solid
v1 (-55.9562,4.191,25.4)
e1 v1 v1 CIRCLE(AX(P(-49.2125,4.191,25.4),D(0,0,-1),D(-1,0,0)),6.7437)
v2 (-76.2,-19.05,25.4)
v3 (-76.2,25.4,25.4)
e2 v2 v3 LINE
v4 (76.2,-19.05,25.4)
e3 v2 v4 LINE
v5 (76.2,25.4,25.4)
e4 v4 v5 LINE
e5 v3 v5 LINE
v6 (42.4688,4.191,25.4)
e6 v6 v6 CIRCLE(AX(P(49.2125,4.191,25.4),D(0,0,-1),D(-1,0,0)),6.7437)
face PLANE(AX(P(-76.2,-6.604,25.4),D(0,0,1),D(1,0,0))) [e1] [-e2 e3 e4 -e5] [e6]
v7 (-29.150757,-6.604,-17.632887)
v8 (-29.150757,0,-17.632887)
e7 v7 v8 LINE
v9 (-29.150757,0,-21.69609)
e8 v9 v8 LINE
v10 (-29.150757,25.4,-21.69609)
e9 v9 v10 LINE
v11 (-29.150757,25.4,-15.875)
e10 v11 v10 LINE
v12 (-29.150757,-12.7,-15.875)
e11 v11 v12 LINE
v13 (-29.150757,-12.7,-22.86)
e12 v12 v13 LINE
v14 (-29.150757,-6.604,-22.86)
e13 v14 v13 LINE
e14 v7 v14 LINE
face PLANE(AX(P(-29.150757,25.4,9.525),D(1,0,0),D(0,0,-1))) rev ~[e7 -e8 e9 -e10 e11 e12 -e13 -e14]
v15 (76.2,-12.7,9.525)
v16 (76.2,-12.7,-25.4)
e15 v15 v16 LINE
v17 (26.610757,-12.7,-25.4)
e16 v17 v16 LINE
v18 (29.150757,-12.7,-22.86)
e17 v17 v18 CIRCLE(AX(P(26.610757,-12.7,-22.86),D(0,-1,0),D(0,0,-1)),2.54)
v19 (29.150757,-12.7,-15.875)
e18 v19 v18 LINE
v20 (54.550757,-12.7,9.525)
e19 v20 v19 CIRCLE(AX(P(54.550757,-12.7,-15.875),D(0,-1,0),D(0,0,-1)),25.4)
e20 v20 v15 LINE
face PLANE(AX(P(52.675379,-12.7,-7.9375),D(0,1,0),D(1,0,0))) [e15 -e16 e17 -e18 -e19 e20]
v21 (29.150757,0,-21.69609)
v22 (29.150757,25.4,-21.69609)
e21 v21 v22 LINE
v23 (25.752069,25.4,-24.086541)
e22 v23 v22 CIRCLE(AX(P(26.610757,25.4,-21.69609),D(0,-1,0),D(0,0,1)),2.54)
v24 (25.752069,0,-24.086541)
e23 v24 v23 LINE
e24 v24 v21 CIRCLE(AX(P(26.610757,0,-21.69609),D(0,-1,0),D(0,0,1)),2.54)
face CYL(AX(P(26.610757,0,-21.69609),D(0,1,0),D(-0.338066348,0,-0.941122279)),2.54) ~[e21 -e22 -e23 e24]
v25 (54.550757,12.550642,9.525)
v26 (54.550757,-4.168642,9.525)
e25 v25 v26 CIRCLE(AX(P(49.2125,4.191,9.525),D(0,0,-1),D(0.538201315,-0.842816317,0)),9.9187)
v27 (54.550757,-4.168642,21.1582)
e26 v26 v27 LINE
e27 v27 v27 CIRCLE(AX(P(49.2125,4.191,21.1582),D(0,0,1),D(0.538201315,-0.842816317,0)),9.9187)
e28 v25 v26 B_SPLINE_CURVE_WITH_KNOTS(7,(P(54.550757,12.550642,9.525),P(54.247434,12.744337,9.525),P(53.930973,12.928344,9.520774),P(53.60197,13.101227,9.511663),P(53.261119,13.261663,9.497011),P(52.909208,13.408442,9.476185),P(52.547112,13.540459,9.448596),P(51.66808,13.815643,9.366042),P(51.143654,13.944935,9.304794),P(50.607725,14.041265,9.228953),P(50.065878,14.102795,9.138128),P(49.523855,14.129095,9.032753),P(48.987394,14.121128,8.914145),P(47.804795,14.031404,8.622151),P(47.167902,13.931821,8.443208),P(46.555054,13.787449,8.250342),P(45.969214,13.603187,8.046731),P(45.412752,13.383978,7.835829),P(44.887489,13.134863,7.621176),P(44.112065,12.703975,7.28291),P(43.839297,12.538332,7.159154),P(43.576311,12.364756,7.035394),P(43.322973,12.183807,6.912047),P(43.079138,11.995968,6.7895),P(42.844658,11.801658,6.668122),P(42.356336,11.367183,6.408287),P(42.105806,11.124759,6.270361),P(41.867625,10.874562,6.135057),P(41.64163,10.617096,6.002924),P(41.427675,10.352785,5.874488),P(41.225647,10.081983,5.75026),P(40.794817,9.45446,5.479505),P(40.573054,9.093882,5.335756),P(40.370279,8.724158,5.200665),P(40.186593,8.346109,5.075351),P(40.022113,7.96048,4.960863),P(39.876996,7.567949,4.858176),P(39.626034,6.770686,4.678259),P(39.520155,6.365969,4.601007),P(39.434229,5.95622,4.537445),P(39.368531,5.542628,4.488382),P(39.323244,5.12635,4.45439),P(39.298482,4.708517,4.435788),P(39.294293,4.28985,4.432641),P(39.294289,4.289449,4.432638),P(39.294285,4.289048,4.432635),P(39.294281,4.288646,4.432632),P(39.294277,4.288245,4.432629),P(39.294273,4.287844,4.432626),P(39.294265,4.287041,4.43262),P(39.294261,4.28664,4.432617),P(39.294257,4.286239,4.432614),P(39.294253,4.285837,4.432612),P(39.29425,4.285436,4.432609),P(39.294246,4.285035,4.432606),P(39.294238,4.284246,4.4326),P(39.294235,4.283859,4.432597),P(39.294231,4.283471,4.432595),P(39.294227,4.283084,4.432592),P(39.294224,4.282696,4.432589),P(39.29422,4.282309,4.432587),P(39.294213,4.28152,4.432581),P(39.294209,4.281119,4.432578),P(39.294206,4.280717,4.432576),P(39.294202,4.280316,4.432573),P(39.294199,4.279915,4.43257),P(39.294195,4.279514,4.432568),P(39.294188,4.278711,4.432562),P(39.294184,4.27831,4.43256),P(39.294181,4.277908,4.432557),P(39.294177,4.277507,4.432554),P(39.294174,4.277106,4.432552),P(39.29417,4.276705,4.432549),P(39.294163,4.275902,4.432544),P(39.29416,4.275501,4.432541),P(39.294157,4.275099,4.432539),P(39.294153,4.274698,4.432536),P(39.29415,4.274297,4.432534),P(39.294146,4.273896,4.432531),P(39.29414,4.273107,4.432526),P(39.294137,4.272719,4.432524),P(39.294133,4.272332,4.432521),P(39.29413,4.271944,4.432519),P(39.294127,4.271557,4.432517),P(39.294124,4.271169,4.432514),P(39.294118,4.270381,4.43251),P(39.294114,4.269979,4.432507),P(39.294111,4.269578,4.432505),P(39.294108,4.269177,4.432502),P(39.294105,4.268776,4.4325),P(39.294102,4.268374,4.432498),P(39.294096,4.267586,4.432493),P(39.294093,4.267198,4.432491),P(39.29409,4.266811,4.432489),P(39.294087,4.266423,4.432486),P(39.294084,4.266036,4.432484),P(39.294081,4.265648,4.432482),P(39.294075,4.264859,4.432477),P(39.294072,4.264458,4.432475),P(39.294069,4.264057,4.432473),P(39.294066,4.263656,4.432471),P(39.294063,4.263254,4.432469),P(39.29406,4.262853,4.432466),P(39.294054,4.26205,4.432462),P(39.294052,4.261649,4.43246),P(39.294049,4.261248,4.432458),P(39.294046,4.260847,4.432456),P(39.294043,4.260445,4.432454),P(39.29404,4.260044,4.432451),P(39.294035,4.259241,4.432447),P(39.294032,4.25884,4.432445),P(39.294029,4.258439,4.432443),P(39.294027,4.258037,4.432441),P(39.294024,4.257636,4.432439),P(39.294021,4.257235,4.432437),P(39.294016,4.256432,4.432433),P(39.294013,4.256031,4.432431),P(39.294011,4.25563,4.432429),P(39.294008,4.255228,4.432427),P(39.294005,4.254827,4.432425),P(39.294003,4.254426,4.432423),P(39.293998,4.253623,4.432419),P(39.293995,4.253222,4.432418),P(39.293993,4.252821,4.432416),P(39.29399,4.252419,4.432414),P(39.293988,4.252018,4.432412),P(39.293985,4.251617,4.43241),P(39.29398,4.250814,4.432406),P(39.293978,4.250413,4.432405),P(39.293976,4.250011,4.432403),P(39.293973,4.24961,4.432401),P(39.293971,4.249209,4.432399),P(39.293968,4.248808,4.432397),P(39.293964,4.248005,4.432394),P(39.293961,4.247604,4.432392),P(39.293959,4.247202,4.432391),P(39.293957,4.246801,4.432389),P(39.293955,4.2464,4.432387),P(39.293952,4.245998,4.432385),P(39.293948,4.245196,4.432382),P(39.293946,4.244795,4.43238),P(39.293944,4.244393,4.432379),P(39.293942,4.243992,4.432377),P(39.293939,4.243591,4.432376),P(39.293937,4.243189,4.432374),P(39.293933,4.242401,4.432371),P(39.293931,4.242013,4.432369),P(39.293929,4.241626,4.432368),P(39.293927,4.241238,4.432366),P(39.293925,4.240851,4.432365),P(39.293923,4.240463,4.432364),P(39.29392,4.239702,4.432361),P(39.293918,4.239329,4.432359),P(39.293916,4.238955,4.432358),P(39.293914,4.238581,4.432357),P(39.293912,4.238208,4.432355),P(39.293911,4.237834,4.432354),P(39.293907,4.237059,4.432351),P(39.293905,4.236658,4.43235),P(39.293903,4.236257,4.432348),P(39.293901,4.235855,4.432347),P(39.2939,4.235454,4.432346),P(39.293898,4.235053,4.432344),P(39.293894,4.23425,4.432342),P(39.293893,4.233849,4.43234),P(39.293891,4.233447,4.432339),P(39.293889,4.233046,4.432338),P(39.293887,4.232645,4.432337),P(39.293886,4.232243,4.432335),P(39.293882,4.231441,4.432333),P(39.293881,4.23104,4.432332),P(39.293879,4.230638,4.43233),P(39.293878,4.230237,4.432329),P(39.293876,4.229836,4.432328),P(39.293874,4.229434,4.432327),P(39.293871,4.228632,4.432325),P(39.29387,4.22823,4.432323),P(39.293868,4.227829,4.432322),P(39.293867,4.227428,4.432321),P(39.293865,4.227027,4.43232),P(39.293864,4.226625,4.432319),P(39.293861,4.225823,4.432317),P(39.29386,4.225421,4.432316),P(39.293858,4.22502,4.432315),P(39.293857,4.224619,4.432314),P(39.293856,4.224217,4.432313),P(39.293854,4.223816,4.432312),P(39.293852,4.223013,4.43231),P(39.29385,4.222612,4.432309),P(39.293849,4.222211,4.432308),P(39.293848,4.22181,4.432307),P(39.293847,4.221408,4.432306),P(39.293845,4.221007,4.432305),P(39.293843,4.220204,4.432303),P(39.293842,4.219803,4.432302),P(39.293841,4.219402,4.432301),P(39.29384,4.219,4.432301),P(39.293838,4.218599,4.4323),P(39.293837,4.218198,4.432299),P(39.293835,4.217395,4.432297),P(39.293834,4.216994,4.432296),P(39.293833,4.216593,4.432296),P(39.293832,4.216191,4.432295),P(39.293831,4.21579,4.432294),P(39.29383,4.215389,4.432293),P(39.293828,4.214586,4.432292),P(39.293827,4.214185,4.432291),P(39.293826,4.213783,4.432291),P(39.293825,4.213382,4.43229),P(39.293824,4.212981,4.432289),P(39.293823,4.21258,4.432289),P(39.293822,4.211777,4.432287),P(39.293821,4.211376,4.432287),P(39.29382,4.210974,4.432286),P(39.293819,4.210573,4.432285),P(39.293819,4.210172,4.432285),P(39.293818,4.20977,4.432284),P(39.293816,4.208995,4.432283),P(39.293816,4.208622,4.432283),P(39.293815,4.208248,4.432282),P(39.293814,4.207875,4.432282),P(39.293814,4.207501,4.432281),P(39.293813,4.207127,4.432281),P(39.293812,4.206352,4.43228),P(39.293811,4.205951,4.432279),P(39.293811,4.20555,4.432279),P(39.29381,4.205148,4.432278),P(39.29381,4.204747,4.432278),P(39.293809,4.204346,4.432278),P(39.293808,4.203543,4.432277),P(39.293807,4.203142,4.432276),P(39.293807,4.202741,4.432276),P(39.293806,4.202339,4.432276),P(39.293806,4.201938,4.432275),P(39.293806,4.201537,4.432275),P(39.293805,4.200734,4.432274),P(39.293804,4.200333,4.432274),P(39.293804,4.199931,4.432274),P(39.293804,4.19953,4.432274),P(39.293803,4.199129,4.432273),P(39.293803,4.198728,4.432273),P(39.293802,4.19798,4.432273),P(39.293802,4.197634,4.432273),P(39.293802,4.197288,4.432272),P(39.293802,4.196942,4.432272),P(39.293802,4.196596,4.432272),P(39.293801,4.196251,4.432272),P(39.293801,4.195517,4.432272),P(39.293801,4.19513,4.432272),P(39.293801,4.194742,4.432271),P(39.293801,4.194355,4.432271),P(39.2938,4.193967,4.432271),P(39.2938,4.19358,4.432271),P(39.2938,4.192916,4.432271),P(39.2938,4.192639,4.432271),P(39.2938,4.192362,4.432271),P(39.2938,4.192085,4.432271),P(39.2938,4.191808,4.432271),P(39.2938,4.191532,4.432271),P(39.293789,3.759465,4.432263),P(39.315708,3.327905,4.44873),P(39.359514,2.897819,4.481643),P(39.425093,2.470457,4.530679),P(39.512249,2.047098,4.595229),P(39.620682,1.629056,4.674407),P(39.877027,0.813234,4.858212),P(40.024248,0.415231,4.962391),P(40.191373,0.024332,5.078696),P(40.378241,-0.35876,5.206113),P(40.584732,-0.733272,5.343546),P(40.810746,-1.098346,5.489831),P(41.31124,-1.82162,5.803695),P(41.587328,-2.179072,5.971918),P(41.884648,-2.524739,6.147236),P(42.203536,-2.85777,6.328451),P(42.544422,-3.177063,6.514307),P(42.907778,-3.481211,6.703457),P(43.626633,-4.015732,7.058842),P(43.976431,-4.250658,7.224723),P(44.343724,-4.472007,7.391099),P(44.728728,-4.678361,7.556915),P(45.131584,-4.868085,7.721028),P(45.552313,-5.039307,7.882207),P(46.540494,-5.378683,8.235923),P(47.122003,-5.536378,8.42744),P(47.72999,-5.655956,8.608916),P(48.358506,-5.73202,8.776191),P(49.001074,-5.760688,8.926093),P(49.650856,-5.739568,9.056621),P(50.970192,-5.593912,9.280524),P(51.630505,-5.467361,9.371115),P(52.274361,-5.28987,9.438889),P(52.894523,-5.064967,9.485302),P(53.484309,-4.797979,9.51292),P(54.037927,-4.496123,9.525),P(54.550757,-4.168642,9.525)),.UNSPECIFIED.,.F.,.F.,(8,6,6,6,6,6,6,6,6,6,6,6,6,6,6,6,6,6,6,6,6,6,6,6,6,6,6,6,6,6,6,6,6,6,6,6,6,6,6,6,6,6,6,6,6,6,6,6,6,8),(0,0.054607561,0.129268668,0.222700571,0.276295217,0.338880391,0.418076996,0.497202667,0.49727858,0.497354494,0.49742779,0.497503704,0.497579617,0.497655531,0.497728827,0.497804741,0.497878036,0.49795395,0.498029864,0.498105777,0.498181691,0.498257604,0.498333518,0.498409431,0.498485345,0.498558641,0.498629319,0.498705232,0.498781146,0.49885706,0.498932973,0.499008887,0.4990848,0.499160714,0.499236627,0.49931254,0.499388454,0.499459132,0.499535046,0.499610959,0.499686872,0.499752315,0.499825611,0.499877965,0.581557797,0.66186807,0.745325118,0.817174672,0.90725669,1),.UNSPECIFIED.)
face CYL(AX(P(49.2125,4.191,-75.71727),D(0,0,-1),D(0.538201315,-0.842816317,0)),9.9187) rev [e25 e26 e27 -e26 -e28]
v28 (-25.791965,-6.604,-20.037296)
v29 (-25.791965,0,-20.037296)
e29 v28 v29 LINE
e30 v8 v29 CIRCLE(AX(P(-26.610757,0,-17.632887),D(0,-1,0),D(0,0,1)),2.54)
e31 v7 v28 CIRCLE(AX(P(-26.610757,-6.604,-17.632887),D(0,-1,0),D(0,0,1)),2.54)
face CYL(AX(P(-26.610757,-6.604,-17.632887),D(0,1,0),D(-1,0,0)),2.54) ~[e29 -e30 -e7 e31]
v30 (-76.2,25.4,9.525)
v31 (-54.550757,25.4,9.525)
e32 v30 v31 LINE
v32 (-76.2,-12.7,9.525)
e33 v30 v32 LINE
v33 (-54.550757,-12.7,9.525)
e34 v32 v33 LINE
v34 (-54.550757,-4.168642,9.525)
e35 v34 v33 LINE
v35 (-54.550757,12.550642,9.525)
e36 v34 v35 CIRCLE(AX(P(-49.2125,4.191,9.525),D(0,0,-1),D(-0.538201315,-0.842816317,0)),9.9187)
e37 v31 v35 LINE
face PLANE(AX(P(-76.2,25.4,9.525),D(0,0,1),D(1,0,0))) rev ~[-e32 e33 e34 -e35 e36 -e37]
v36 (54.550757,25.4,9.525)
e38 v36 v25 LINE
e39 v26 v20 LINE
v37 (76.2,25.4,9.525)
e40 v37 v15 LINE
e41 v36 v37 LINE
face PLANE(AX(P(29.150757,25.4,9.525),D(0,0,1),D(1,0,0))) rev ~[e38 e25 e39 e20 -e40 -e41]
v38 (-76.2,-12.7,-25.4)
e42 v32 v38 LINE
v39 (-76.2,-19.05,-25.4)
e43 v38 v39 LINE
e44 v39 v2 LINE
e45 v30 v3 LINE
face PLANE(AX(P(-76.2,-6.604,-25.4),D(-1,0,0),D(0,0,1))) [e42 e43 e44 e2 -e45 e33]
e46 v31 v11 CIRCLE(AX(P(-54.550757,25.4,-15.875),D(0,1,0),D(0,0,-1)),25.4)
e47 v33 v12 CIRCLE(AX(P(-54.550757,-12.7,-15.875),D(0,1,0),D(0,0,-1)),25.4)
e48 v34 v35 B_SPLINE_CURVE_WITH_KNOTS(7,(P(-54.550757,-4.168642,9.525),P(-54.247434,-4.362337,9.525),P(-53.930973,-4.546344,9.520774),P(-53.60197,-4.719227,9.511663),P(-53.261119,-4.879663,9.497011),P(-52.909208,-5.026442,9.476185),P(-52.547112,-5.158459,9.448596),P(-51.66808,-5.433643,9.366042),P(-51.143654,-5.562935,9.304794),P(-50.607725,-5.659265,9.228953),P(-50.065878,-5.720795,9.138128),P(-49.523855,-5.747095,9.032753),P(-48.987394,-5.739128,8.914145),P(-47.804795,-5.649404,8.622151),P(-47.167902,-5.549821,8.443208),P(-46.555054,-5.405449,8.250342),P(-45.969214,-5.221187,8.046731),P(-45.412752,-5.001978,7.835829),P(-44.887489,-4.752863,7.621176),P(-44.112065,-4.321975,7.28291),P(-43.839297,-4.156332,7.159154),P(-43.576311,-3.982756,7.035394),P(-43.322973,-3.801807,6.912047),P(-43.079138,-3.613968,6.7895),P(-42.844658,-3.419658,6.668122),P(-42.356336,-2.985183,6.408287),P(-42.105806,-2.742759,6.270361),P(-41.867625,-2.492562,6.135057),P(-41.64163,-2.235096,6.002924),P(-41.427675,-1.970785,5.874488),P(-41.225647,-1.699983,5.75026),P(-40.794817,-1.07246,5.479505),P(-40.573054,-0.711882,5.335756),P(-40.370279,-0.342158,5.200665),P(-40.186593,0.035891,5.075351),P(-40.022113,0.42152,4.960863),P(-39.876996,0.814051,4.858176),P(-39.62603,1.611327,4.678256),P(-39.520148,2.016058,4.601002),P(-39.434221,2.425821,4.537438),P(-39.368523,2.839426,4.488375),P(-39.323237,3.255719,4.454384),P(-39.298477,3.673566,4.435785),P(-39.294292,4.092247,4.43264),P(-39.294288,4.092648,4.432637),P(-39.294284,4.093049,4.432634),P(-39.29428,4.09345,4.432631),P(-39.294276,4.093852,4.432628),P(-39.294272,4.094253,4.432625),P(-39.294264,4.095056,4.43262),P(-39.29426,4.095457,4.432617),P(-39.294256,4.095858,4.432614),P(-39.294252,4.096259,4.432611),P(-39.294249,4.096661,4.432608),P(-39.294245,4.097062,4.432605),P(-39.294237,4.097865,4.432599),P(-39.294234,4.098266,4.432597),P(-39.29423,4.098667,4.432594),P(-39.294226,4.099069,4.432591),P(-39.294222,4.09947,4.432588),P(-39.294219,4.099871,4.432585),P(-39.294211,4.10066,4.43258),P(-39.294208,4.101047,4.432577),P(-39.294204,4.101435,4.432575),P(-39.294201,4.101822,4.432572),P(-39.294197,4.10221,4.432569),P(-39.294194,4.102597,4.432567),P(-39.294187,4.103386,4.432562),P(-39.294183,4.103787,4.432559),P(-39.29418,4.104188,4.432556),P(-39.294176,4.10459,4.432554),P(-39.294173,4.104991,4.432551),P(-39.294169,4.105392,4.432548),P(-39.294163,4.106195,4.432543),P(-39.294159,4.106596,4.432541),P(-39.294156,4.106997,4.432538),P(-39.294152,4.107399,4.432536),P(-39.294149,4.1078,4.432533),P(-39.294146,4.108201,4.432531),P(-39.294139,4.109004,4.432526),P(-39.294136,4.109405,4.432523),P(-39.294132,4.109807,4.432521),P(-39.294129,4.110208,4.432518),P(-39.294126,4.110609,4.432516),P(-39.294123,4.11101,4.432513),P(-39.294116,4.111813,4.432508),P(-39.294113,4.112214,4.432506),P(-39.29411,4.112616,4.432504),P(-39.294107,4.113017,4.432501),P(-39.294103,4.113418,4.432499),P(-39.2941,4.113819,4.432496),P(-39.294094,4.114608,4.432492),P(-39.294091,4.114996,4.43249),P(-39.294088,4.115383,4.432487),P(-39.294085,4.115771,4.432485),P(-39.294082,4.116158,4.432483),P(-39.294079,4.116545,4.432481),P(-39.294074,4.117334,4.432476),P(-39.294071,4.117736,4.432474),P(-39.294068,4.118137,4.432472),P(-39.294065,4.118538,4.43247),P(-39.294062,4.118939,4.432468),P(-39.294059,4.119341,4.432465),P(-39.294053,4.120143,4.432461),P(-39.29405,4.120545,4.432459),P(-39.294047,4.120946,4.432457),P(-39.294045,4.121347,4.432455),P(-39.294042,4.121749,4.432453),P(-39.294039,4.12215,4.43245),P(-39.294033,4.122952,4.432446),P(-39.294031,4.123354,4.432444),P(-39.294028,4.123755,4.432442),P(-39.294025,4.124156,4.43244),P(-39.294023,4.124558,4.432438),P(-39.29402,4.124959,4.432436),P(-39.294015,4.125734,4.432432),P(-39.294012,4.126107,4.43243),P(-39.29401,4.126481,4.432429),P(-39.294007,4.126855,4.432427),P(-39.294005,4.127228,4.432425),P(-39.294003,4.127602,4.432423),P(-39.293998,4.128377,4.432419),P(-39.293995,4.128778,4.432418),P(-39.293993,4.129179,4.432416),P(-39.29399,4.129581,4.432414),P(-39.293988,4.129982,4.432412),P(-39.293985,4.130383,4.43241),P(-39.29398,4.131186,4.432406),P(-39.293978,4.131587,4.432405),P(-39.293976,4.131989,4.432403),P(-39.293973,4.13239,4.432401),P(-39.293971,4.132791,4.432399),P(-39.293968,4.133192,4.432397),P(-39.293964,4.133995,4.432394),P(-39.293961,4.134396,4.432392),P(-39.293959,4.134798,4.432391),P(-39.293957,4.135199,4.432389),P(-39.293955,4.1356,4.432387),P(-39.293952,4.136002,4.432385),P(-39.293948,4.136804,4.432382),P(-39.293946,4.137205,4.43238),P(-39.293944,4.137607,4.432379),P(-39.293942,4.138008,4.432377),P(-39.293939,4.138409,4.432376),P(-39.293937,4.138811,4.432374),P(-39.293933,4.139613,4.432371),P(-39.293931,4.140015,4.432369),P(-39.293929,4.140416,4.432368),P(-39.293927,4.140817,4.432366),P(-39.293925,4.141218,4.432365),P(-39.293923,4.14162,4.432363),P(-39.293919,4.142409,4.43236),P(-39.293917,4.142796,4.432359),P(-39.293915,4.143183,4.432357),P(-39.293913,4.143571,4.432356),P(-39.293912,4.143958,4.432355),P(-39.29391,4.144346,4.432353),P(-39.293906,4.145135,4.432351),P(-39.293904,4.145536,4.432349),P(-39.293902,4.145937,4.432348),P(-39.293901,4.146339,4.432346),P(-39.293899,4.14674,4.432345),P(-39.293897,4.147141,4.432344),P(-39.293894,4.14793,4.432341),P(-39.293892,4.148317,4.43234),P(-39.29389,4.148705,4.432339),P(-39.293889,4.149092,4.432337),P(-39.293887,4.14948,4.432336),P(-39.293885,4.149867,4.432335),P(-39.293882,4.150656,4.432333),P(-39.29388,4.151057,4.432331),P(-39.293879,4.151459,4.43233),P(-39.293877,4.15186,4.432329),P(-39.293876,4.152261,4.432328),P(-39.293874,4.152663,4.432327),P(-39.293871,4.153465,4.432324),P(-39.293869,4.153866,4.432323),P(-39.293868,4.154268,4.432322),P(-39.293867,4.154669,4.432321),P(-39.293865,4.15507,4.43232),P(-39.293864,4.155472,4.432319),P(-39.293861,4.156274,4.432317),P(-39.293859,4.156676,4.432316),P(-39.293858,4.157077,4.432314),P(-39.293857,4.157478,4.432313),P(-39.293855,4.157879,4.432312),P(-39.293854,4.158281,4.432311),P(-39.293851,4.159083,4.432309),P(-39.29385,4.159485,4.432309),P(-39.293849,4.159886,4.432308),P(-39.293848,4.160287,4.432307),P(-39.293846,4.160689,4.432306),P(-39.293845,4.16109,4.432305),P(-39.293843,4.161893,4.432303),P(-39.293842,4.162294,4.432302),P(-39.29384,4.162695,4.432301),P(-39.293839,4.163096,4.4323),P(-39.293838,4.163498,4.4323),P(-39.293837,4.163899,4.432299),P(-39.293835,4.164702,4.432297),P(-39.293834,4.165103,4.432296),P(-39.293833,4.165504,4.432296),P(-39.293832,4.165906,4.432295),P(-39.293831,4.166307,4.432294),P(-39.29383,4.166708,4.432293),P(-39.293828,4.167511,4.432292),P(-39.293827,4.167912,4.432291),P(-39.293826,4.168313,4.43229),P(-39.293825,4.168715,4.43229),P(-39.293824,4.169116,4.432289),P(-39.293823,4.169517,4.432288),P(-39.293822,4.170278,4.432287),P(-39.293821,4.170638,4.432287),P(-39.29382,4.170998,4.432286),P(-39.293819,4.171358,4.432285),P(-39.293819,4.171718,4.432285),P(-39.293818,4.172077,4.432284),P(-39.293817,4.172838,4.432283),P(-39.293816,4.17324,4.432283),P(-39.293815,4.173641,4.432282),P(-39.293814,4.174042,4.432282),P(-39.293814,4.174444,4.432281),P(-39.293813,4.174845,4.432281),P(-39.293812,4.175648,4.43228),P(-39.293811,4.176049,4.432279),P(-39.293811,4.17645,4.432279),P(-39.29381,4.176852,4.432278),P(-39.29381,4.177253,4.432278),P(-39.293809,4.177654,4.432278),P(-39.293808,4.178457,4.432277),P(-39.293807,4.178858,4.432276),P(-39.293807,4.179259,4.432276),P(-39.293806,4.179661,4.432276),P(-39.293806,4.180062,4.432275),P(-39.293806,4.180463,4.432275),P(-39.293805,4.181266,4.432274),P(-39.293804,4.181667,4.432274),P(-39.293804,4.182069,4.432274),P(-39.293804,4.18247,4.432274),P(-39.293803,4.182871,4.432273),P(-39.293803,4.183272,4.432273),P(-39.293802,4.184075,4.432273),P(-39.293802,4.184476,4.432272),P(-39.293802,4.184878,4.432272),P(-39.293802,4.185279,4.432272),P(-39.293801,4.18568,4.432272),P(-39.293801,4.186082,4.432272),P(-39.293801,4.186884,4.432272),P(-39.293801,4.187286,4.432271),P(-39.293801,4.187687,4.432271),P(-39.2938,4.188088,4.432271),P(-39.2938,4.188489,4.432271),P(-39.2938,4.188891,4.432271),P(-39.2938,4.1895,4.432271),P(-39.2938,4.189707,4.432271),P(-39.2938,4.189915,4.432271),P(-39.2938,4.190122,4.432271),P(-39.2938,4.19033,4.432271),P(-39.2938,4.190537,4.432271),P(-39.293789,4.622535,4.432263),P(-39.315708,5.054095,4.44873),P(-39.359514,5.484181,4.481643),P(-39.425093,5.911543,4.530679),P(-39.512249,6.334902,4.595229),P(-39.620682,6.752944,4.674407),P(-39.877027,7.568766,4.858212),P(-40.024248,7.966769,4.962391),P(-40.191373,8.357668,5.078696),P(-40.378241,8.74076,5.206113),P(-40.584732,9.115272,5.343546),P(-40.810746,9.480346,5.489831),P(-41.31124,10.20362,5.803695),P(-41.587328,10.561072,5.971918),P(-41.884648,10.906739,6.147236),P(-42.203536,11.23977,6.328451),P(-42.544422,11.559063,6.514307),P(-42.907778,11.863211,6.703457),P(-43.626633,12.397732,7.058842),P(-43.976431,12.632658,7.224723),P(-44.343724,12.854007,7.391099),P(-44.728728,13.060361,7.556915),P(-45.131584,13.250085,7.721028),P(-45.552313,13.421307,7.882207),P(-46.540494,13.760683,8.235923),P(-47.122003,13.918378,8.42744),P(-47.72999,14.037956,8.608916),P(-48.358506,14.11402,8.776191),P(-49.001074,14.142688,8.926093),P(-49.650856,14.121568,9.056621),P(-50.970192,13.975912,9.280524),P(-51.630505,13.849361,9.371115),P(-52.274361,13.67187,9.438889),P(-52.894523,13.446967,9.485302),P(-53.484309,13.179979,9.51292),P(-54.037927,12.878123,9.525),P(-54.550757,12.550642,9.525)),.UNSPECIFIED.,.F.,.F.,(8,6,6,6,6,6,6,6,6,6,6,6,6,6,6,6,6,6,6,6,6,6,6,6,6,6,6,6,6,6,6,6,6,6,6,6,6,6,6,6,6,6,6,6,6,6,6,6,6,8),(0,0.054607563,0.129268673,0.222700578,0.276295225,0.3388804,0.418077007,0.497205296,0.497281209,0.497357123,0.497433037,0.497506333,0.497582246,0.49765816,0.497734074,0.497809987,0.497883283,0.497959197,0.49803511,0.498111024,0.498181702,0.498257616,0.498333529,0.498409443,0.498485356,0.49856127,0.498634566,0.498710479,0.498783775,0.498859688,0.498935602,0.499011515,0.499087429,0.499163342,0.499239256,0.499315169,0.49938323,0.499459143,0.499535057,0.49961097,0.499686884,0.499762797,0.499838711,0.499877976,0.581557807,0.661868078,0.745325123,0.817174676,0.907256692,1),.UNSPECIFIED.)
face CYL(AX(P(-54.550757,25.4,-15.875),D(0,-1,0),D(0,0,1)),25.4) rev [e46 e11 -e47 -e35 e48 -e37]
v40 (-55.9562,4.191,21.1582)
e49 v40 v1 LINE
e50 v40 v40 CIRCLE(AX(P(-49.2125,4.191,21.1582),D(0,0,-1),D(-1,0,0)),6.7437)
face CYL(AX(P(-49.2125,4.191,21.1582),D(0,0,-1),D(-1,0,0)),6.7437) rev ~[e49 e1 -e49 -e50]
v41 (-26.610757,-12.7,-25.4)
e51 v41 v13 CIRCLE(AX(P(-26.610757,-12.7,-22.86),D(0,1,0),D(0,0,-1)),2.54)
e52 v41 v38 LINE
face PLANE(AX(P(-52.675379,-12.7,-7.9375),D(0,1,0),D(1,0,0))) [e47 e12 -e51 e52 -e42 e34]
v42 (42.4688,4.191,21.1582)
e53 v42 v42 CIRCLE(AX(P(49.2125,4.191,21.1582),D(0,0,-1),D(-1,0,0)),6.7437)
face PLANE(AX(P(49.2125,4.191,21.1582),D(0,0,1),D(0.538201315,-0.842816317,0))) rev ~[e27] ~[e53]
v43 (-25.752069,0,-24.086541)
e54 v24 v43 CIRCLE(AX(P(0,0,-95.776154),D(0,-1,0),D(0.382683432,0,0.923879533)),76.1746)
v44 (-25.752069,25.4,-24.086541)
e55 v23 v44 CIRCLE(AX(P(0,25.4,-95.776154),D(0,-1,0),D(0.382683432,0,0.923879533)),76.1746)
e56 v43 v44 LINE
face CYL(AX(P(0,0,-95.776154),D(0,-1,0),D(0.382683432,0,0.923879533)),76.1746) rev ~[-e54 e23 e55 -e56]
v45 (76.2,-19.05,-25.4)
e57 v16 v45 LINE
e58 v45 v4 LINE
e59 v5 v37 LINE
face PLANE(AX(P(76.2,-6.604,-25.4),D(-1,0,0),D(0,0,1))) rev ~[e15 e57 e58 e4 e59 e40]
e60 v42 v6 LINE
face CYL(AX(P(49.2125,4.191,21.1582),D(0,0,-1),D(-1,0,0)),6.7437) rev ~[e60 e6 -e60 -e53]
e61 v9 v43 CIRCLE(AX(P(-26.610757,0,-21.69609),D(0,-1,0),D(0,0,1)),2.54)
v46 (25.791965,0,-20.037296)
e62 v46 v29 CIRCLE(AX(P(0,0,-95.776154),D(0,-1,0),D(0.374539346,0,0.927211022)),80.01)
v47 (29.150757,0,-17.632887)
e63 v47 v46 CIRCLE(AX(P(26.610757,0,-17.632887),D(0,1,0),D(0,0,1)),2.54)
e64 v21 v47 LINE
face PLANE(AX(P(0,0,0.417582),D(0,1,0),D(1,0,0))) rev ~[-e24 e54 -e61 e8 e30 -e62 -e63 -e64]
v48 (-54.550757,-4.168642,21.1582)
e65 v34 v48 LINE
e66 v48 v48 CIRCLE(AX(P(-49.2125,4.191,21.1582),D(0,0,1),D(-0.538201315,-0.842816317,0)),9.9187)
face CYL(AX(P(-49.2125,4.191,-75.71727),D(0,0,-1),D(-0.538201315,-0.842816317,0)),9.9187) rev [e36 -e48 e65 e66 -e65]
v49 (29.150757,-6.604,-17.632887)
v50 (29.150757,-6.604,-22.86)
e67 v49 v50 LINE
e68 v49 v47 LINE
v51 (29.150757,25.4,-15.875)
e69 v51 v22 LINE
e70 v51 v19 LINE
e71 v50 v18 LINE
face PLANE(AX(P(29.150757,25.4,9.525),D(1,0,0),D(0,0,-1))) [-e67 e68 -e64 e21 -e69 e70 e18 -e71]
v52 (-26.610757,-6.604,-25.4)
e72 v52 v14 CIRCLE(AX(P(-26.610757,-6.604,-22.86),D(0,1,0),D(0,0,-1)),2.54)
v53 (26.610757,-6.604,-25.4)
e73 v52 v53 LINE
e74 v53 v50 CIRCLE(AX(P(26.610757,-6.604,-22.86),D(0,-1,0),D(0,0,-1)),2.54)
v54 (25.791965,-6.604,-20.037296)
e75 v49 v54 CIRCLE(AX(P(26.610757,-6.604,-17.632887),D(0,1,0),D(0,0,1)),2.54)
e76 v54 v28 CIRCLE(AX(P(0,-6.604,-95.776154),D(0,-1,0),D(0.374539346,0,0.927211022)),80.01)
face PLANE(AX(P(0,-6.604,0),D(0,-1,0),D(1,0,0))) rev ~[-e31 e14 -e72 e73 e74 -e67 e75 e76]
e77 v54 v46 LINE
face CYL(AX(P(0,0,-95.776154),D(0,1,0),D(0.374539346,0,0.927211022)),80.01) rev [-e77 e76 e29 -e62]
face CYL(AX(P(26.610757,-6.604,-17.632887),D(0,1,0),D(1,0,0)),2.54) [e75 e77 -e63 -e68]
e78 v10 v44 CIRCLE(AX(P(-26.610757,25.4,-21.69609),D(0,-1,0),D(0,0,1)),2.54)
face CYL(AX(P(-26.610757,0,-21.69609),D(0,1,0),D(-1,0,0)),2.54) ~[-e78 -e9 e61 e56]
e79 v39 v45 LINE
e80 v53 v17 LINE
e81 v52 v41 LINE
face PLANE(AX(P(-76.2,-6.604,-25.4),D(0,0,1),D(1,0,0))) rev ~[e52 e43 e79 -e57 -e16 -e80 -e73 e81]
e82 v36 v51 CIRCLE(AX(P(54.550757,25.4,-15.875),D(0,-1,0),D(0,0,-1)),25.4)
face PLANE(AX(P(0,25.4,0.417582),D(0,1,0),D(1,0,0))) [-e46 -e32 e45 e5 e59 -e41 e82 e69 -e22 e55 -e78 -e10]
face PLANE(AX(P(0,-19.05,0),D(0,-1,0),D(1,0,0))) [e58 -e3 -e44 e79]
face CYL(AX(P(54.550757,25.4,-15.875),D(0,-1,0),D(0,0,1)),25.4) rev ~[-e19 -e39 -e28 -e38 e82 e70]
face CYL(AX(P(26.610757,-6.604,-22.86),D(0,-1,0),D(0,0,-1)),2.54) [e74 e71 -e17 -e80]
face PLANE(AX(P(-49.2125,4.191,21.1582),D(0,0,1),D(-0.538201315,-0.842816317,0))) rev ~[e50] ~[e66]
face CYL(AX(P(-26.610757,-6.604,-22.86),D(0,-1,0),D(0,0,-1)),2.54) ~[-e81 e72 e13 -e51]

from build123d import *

# Parameters (mm, degrees)
BOSS_EXTRUDE1_DEPTH     = 25.4
BOSS_EXTRUDE2_DEPTH     = 6.604
SKETCH3_W               = 152.4
SKETCH3_H               = 50.8
BOSS_EXTRUDE3_DEPTH     = 12.446
SKETCH5_W               = 47.049242613
SKETCH5_H               = 34.925
CUT_EXTRUDE1_DEPTH      = 38.1
FILLET1_R               = 2.54
FILLET2_R               = 25.4
CUT_EXTRUDE2_DEPTH      = 11.6332
CUT_EXTRUDE2_DEPTH_BACK = 85.242269675
CUT_EXTRUDE2_START      = 9.525
SKETCH6_R               = 9.9187
SKETCH7_R               = 6.7437
CUT_EXTRUDE3_DEPTH      = 93.840002113


with BuildPart() as part:
    # Sketch1 → Boss-Extrude1 (new body)
    with BuildSketch(Plane(origin=(0, 0, 0), x_dir=(1, 0, 0), z_dir=(0, 1, 0))):
        with BuildLine():
            Line((76.2, -25.4), (76.2, 25.4))
            Line((76.2, 25.4), (29.150757387, 25.4))
            ThreePointArc((29.150757387, 25.4), (0, 19.601553837), (-29.150757387, 25.4))
            Line((-29.150757387, 25.4), (-76.2, 25.4))
            Line((-76.2, 25.4), (-76.2, -25.4))
            Line((-76.2, -25.4), (76.2, -25.4))
        make_face()
    extrude(amount=BOSS_EXTRUDE1_DEPTH)

    # Sketch2 → Boss-Extrude2 (add)
    with BuildSketch(Plane.XZ):
        with BuildLine():
            Line((-76.2, 25.4), (76.2, 25.4))
            Line((76.2, 25.4), (76.2, -21.59))
            Line((76.2, -21.59), (29.966893046, -21.59))
            ThreePointArc((29.966893046, -21.59), (0, -15.766153837), (-29.966893046, -21.59))
            Line((-29.966893046, -21.59), (-76.2, -21.59))
            Line((-76.2, -21.59), (-76.2, 25.4))
        make_face()
    extrude(amount=BOSS_EXTRUDE2_DEPTH)

    # Sketch3 → Boss-Extrude3 (add)
    with BuildSketch(Plane.XZ.offset(6.604)):
        Rectangle(SKETCH3_W, SKETCH3_H)
    extrude(amount=BOSS_EXTRUDE3_DEPTH)

    # Sketch5 → Cut-Extrude1 (cut)
    with BuildSketch(Plane(origin=(0, 25.4, 0), x_dir=(1, 0, 0), z_dir=(0, 1, 0))):
        with Locations((-52.675378694, 7.9375)):
            Rectangle(SKETCH5_W, SKETCH5_H)
        with Locations((52.675378694, 7.9375)):
            Rectangle(SKETCH5_W, SKETCH5_H)
    extrude(amount=-CUT_EXTRUDE1_DEPTH, mode=Mode.SUBTRACT)

    # Fillet1
    fillet1_edges = [part.edges().sort_by_distance(p)[0] for p in [
        (29.150757387, 12.7, -25.4),
        (-29.150757387, 12.7, -25.4),
        (-29.150757387, -9.652, -25.4),
        (-29.150757387, -3.302, -21.265527456),
        (29.150757387, -9.652, -25.4),
        (29.150757387, -3.302, -21.265527456),
    ]]
    fillet(fillet1_edges, radius=FILLET1_R)

    # Fillet2
    fillet2_edges = [part.edges().sort_by_distance(p)[0] for p in [
        (-29.150757387, 6.35, 9.525),
        (29.150757387, 6.35, 9.525),
    ]]
    fillet(fillet2_edges, radius=FILLET2_R)

    # Sketch6 → Cut-Extrude2 (cut, two sides: drawn at the far end of the back side and taken through both)
    with BuildSketch(Plane.XY.offset(CUT_EXTRUDE2_START - CUT_EXTRUDE2_DEPTH_BACK)):
        with Locations(Location((49.2125, 4.191, 0), (0, 0, 302.561278337))):
            Circle(SKETCH6_R)
        with Locations(Location((-49.2125, 4.191, 0), (0, 0, 237.438721663))):
            Circle(SKETCH6_R)
    extrude(amount=CUT_EXTRUDE2_DEPTH + CUT_EXTRUDE2_DEPTH_BACK, mode=Mode.SUBTRACT)

    # Sketch7 → Cut-Extrude3 (cut, through all)
    with BuildSketch(Plane(origin=(0, 0, 21.1582), x_dir=(-1, 0, 0), z_dir=(0, 0, -1))):
        with Locations((-49.2125, 4.191)):
            Circle(SKETCH7_R)
        with Locations((49.2125, 4.191)):
            Circle(SKETCH7_R)
    extrude(amount=-CUT_EXTRUDE3_DEPTH, mode=Mode.SUBTRACT)


solid = part.part
